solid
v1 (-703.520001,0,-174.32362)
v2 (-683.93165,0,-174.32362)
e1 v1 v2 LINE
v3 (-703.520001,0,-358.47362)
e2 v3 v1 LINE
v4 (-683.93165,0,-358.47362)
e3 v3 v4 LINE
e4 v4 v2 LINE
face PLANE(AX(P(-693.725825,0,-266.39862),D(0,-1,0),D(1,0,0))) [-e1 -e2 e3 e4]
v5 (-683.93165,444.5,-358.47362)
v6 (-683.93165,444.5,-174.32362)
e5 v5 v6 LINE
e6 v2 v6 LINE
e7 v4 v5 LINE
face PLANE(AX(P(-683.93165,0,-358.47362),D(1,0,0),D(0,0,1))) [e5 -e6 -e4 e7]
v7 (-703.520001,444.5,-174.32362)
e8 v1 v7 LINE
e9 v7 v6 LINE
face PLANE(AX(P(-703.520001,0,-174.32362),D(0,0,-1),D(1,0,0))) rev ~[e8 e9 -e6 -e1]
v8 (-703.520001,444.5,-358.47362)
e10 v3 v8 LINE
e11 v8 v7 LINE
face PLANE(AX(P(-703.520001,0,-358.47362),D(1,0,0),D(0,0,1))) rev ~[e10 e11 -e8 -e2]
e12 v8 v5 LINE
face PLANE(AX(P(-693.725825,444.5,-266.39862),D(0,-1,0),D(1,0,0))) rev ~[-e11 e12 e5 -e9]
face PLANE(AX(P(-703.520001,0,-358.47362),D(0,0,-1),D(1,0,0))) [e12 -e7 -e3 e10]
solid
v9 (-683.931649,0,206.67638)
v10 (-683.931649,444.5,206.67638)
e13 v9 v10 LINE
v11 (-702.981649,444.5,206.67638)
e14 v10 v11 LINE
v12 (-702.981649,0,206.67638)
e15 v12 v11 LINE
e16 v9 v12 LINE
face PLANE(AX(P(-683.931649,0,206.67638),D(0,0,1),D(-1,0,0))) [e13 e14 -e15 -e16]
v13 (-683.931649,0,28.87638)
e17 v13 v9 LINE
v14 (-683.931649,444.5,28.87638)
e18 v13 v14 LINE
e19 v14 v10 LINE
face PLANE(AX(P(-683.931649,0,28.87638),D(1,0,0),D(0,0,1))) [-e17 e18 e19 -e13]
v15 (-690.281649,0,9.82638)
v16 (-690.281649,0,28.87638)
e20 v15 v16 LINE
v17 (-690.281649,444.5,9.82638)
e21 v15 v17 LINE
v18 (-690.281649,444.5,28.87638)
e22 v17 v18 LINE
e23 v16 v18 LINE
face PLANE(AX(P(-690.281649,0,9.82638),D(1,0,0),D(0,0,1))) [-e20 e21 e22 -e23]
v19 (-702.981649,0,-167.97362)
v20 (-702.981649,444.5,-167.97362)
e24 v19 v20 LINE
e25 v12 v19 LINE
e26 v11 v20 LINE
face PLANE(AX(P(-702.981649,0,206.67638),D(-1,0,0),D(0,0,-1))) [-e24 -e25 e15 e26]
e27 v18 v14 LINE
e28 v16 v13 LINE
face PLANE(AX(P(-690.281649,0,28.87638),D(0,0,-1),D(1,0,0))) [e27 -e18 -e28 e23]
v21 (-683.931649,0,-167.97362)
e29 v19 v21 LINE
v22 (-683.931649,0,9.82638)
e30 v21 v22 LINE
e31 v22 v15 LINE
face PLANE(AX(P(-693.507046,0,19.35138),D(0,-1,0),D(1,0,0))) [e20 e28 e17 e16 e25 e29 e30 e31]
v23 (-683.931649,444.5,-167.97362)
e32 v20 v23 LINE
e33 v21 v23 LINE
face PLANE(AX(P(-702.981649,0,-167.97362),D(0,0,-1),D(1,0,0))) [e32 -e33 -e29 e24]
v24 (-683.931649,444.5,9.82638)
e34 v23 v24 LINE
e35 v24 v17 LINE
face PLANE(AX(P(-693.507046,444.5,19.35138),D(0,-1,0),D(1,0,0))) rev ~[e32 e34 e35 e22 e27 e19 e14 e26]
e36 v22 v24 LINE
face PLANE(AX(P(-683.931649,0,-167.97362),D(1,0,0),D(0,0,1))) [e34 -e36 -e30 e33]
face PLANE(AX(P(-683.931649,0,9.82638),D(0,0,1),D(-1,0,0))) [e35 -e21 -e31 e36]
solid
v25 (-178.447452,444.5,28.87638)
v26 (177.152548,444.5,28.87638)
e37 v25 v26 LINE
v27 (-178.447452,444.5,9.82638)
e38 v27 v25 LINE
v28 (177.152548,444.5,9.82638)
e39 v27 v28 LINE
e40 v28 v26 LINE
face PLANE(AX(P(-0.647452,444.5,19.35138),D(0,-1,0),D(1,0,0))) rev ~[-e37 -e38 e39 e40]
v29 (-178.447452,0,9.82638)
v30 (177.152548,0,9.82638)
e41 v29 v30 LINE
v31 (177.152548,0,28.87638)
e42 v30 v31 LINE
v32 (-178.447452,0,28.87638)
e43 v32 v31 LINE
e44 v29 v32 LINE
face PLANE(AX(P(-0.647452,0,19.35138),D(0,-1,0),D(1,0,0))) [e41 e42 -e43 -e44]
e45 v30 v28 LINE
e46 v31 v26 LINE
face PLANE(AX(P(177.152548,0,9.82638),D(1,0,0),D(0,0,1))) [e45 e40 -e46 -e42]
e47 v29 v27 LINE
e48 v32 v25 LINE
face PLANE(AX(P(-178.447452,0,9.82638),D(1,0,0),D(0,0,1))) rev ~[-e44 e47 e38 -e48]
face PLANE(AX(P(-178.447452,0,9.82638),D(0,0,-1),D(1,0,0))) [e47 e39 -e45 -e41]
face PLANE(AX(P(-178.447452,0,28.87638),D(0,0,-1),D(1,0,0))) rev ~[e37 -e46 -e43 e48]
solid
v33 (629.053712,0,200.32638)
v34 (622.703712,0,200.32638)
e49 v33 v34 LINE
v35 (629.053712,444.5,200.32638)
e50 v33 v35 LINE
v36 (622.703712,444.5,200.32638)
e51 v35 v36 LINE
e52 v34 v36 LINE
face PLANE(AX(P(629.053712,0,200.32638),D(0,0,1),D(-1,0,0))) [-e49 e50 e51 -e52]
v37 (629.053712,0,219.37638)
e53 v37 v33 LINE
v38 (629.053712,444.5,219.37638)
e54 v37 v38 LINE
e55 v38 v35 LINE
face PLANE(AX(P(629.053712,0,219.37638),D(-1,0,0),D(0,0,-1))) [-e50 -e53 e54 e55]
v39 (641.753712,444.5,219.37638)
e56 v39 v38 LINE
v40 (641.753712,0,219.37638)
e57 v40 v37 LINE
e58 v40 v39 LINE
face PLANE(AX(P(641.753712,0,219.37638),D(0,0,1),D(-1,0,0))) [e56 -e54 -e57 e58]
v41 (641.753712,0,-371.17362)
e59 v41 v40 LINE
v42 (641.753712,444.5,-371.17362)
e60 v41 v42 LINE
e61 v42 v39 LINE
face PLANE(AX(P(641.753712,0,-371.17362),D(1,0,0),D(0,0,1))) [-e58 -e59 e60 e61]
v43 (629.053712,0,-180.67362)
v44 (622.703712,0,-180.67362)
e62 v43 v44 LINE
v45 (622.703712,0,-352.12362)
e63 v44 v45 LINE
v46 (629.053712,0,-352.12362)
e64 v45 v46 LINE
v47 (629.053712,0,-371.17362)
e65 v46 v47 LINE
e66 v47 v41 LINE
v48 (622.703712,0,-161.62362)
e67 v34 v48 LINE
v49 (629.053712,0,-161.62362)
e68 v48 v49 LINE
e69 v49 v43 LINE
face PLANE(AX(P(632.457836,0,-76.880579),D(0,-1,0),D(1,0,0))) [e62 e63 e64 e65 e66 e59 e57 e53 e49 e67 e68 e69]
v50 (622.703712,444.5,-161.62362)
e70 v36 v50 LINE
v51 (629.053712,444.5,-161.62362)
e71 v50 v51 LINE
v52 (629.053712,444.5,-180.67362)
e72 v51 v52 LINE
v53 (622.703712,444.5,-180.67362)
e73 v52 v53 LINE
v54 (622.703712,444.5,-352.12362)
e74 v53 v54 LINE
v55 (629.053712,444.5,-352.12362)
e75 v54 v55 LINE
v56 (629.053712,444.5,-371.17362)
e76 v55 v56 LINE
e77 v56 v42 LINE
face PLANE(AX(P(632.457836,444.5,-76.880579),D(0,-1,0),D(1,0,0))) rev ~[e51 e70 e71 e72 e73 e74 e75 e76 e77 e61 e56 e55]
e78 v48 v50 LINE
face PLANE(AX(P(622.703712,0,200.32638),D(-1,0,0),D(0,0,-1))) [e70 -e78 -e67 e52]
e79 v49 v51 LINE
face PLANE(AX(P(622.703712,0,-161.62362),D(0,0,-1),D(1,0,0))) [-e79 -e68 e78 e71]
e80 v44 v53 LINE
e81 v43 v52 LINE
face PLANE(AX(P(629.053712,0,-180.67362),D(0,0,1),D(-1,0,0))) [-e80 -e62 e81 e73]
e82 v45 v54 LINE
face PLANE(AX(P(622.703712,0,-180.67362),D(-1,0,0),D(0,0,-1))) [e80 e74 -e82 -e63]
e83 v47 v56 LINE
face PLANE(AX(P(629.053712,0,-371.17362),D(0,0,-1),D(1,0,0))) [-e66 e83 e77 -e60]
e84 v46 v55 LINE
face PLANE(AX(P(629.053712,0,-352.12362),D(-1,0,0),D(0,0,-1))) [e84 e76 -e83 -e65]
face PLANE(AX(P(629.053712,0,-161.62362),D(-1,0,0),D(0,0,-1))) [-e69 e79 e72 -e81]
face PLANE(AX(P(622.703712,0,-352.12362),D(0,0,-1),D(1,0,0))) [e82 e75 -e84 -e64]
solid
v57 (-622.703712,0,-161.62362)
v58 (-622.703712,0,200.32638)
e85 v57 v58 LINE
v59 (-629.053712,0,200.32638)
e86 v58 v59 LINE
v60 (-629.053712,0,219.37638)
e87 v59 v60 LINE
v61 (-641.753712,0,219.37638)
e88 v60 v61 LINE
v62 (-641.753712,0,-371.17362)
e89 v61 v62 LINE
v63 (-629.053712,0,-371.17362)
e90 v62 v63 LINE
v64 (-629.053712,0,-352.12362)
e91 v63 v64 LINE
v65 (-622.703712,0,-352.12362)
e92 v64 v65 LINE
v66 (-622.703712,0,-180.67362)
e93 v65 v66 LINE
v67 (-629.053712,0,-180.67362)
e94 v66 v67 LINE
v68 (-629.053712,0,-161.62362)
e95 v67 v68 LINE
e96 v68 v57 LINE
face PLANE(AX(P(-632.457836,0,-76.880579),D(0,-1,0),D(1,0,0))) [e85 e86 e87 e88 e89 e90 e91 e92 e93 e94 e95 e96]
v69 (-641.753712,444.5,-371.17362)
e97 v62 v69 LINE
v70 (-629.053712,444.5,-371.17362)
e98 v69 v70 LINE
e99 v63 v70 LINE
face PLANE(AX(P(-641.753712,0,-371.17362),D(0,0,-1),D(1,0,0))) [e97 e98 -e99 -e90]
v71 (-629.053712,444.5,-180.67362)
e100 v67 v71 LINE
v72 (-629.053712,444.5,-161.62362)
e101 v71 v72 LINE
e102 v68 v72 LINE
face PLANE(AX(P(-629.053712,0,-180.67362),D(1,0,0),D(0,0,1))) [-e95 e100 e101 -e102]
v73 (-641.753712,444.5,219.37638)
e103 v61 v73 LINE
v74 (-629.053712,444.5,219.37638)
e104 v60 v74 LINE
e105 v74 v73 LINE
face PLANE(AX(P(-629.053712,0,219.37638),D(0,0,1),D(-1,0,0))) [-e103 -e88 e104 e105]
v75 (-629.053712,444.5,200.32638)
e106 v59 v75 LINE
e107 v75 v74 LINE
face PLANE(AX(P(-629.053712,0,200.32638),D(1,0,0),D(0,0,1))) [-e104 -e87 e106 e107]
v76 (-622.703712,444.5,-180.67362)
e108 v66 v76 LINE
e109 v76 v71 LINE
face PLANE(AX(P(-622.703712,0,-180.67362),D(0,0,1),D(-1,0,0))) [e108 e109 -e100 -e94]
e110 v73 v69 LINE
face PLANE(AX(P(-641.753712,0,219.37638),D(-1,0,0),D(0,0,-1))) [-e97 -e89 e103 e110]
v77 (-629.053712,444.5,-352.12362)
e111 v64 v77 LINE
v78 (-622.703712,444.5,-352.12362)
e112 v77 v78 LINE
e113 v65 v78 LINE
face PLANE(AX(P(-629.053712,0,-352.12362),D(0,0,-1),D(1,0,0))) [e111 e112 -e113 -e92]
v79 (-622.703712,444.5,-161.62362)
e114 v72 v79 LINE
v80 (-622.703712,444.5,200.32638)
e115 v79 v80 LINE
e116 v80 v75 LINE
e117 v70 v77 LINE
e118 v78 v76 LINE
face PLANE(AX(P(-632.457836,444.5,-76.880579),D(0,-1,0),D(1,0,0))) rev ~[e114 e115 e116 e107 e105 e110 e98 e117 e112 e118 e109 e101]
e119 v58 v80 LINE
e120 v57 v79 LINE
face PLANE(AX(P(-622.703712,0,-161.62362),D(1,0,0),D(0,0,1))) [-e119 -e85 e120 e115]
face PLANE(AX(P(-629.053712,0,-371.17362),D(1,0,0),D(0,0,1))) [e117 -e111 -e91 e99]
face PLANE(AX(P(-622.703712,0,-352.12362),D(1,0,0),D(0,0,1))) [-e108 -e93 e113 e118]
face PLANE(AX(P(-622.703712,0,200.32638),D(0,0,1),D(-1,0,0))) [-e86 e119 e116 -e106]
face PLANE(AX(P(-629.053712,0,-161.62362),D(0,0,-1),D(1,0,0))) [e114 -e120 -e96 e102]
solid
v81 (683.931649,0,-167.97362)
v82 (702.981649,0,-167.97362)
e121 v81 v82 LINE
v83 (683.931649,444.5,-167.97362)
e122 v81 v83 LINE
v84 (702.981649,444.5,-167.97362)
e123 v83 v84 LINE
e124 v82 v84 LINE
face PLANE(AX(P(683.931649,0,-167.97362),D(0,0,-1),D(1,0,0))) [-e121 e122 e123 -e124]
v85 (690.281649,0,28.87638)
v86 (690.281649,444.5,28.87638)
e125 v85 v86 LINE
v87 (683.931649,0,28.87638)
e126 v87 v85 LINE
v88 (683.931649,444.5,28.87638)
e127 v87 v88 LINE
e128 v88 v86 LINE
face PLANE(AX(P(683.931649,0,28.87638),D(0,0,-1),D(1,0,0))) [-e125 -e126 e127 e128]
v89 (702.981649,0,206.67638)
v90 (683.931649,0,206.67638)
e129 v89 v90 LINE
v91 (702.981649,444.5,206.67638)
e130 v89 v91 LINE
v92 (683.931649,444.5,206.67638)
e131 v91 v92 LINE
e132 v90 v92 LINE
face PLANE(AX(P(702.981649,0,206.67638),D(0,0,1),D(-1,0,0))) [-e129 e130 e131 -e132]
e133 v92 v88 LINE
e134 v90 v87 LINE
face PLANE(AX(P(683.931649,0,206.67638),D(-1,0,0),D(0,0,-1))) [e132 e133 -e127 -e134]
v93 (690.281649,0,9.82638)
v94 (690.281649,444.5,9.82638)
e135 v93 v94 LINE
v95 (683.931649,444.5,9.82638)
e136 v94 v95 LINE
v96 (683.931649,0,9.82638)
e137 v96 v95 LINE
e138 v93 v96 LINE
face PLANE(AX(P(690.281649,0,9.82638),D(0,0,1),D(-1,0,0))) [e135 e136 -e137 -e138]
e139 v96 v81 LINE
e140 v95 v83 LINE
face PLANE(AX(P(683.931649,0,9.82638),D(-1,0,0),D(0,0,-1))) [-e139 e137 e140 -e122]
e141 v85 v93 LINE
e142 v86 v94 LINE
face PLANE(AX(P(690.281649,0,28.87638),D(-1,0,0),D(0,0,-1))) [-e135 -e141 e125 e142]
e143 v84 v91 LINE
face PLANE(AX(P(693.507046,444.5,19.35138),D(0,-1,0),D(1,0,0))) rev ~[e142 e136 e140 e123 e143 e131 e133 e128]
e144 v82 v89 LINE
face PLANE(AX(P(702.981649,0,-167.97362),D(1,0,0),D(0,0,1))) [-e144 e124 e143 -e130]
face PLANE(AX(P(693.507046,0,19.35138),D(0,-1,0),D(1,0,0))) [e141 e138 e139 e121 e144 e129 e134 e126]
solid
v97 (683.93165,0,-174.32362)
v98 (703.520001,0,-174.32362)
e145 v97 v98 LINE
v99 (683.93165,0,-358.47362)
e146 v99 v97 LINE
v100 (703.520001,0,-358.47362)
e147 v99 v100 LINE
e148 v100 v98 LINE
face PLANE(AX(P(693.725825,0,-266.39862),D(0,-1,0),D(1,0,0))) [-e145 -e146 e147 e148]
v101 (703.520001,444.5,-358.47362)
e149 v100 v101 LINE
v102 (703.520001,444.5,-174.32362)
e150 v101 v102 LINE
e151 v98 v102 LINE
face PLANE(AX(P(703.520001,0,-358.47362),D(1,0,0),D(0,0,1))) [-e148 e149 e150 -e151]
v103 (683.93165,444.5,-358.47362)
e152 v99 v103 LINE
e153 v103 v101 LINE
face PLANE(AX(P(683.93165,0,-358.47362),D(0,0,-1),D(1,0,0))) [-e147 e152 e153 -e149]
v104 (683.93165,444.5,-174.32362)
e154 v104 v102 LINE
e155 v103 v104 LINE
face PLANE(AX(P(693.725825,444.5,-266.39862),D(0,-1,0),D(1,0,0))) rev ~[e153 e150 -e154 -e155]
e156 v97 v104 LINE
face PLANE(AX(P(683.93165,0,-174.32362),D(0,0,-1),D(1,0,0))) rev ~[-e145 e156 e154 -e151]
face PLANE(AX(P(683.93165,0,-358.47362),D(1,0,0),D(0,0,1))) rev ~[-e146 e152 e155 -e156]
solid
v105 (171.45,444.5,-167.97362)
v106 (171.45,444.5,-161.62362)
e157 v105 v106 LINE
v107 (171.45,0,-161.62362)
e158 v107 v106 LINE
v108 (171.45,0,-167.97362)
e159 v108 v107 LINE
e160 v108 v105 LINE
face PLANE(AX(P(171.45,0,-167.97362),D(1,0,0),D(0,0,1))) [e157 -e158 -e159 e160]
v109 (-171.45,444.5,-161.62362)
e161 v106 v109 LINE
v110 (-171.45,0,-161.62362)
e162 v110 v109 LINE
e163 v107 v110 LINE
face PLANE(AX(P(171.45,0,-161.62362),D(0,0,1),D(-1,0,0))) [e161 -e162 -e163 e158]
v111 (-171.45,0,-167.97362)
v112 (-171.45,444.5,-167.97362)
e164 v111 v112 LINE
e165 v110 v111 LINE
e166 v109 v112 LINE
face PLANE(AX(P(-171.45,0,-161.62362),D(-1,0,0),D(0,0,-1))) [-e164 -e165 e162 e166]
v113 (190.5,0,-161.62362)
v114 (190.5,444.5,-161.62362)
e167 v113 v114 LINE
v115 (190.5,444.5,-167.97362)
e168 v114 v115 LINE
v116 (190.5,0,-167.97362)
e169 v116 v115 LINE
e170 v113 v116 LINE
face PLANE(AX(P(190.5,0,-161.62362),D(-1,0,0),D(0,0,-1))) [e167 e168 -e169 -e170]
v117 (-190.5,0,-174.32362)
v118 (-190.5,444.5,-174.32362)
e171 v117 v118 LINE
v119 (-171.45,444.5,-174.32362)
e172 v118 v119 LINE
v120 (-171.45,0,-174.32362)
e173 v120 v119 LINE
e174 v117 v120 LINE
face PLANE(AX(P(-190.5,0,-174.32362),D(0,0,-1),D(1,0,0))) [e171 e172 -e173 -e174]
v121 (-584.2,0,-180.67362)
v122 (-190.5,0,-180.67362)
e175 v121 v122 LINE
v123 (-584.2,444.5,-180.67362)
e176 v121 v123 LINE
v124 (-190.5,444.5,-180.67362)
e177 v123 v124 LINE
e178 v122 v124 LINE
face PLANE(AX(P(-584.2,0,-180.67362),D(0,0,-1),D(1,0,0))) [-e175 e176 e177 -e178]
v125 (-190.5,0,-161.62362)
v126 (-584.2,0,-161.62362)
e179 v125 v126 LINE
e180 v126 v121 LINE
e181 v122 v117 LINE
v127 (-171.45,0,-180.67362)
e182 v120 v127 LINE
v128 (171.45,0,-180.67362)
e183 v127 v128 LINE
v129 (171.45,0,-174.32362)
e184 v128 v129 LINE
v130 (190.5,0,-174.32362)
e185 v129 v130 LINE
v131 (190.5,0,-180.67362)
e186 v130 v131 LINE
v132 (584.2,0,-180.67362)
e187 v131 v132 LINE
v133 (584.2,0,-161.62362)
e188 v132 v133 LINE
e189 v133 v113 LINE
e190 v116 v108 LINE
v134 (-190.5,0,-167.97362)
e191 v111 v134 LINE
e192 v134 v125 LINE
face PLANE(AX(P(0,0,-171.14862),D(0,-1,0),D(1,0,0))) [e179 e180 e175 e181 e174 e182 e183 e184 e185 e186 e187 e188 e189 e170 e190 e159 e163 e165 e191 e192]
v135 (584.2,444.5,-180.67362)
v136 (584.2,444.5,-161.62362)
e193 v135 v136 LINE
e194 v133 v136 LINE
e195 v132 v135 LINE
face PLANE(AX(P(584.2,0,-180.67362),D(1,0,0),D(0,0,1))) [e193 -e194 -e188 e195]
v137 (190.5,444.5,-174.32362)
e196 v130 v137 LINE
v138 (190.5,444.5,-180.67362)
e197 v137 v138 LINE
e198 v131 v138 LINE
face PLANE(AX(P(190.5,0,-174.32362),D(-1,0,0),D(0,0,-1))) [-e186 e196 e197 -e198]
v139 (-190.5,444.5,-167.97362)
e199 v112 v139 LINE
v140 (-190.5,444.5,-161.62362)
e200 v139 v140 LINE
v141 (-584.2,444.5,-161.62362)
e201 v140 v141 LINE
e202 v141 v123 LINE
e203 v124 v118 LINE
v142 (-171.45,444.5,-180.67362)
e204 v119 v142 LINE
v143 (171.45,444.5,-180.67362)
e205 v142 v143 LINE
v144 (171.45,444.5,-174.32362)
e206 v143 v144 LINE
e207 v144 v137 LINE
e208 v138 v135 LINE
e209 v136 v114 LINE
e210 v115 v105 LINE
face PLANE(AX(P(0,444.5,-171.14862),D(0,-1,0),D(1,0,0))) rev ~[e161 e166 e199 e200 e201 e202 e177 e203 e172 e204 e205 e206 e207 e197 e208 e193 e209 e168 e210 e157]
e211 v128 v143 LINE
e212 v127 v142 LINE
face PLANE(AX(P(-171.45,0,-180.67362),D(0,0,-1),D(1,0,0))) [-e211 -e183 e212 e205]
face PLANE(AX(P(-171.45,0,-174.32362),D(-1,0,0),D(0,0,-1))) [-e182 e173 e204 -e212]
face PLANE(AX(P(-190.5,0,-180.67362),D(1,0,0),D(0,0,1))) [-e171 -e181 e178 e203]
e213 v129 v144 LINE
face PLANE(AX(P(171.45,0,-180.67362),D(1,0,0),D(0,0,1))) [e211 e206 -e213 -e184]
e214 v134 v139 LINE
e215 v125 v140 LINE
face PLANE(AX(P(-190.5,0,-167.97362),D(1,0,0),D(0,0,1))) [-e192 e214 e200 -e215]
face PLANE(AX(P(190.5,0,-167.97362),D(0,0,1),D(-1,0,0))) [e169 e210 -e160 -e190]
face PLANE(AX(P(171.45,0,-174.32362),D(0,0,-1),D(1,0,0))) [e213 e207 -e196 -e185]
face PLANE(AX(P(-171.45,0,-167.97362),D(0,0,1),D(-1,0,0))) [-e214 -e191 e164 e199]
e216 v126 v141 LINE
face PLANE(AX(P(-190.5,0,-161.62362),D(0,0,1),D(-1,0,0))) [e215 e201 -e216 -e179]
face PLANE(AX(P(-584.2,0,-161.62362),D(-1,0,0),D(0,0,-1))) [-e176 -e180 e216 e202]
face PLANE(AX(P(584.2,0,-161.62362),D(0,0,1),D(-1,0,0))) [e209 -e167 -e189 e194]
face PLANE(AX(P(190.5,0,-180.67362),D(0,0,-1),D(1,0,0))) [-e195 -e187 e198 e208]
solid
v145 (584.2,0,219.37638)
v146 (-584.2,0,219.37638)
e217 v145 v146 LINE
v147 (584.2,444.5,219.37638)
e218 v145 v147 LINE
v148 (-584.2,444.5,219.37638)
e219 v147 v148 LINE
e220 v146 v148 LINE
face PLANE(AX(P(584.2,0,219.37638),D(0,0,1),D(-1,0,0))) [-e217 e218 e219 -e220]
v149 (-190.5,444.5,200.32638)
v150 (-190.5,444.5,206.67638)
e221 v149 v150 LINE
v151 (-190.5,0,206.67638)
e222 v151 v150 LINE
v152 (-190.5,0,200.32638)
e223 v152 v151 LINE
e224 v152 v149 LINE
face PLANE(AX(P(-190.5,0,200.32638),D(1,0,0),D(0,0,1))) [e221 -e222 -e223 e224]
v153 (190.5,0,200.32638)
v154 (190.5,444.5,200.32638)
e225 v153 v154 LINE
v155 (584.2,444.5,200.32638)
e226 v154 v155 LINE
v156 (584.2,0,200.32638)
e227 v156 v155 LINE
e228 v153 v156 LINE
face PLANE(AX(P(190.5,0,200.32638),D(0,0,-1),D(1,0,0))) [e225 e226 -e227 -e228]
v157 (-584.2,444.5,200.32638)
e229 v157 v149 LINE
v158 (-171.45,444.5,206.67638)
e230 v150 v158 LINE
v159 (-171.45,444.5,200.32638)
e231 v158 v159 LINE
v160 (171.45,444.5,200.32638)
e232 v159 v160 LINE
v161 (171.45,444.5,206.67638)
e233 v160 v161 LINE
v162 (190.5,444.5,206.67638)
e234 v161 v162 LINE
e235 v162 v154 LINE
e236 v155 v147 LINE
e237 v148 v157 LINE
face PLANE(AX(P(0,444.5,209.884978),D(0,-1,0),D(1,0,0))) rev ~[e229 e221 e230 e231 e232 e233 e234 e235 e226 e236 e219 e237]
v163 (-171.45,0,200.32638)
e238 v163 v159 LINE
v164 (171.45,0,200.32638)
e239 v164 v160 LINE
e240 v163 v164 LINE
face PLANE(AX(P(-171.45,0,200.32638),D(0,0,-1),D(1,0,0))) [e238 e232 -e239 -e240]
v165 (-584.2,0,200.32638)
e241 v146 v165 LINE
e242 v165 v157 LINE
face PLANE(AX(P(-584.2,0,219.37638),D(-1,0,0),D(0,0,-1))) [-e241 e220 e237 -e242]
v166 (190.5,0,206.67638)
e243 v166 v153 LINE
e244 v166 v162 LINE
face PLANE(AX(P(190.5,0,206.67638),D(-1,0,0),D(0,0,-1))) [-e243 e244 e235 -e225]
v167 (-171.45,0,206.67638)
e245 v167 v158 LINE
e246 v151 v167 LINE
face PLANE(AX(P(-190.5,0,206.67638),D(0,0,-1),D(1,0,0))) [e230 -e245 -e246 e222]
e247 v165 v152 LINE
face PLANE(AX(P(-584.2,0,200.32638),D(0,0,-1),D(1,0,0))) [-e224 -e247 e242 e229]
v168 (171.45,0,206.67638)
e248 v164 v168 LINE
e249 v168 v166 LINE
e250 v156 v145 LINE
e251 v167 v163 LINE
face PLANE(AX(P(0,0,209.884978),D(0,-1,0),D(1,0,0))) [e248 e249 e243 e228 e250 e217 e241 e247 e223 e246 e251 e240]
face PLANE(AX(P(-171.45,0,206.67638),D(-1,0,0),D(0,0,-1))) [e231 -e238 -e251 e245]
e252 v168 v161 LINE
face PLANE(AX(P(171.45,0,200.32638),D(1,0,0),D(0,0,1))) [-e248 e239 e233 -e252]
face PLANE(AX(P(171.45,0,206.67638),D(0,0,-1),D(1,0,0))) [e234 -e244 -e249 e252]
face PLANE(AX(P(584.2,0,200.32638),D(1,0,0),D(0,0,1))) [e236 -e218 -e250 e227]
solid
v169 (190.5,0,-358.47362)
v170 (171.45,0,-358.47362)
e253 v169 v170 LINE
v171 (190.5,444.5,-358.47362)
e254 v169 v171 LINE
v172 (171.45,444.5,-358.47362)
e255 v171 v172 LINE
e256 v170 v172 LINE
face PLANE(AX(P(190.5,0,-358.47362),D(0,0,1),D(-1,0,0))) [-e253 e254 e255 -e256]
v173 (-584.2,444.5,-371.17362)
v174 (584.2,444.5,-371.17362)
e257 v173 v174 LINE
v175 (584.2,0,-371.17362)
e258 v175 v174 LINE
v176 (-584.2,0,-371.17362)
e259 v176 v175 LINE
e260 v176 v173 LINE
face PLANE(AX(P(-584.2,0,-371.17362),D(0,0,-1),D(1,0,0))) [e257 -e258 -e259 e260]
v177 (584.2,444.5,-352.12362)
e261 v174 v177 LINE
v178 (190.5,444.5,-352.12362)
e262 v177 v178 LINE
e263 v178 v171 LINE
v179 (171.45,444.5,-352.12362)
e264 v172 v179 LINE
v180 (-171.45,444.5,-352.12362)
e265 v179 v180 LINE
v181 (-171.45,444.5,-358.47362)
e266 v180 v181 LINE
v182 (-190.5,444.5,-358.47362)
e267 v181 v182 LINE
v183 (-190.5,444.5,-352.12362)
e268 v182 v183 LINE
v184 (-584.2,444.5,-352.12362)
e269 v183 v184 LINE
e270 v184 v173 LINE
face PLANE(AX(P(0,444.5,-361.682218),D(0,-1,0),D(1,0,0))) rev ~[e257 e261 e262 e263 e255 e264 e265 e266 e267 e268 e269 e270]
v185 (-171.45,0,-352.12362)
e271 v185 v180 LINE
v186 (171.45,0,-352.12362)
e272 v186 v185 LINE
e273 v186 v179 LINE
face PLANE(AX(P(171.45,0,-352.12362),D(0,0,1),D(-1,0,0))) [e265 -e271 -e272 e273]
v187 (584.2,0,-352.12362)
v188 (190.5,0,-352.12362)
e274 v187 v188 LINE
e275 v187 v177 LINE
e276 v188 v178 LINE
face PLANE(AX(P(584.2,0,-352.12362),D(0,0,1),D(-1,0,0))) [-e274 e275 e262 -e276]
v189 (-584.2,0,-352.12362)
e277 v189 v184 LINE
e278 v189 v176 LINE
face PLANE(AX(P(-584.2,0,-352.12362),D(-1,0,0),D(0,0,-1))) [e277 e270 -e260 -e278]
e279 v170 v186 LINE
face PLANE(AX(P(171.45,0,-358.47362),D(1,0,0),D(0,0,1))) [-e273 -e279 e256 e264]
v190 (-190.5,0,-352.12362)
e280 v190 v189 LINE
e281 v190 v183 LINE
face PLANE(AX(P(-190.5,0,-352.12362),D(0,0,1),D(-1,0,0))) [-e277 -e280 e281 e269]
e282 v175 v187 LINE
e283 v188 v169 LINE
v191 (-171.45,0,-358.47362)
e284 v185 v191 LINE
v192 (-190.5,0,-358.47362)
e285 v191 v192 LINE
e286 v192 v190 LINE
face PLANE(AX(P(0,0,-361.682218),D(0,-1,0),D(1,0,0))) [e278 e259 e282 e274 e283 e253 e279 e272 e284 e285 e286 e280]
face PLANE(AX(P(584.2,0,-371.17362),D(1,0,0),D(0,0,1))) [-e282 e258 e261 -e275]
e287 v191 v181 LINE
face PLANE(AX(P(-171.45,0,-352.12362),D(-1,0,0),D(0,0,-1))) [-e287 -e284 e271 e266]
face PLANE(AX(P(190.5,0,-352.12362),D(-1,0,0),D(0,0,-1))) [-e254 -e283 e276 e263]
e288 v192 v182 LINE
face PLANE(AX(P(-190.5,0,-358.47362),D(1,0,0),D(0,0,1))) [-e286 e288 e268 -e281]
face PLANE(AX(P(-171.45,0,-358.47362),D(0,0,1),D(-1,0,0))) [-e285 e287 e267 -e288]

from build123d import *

# Parameters (mm, degrees)
F1_DEPTH = 444.5
F0_W     = 355.6
F0_H     = 19.05
F0_W_2   = 19.588351
F0_H_2   = 184.15
F2_DEPTH = 444.5


with BuildPart() as f1:
    # F0 (on Front) → F1 (new body)
    with BuildSketch(Plane.XZ):
        Polygon((-629.053712, 219.37638), (-641.753712, 219.37638), (-641.753712, -371.17362), (-629.053712, -371.17362), (-629.053712, -352.12362), (-622.703712, -352.12362), (-622.703712, -180.67362), (-629.053712, -180.67362), (-629.053712, -161.62362), (-622.703712, -161.62362), (-622.703712, 200.32638), (-629.053712, 200.32638), align=None)
        Polygon((-190.5, -352.12362), (-584.2, -352.12362), (-584.2, -371.17362), (584.2, -371.17362), (584.2, -352.12362), (190.5, -352.12362), (190.5, -358.47362), (171.45, -358.47362), (171.45, -352.12362), (-171.45, -352.12362), (-171.45, -358.47362), (-190.5, -358.47362), align=None)
        Polygon((622.703712, 200.32638), (622.703712, -161.62362), (629.053712, -161.62362), (629.053712, -180.67362), (622.703712, -180.67362), (622.703712, -352.12362), (629.053712, -352.12362), (629.053712, -371.17362), (641.753712, -371.17362), (641.753712, 219.37638), (629.053712, 219.37638), (629.053712, 200.32638), align=None)
    extrude(amount=-F1_DEPTH)


with BuildPart() as f2:
    # F0 (on Front) → F2 (new body)
    with BuildSketch(Plane.XZ):
        Polygon((584.2, 219.37638), (-584.2, 219.37638), (-584.2, 200.32638), (-190.5, 200.32638), (-190.5, 206.67638), (-171.45, 206.67638), (-171.45, 200.32638), (171.45, 200.32638), (171.45, 206.67638), (190.5, 206.67638), (190.5, 200.32638), (584.2, 200.32638), align=None)
        Polygon((-702.981649, 206.67638), (-702.981649, -167.97362), (-683.931649, -167.97362), (-683.931649, 9.82638), (-690.281649, 9.82638), (-690.281649, 28.87638), (-683.931649, 28.87638), (-683.931649, 206.67638), align=None)
        with Locations((-0.647452, 19.35138)):
            Rectangle(F0_W, F0_H)
        with Locations((-693.725825, -266.39862)):
            Rectangle(F0_W_2, F0_H_2)
        with Locations((693.725825, -266.39862)):
            Rectangle(F0_W_2, F0_H_2)
        Polygon((702.981649, -167.97362), (702.981649, 206.67638), (683.931649, 206.67638), (683.931649, 28.87638), (690.281649, 28.87638), (690.281649, 9.82638), (683.931649, 9.82638), (683.931649, -167.97362), align=None)
        Polygon((-584.2, -161.62362), (-584.2, -180.67362), (-190.5, -180.67362), (-190.5, -174.32362), (-171.45, -174.32362), (-171.45, -180.67362), (171.45, -180.67362), (171.45, -174.32362), (190.5, -174.32362), (190.5, -180.67362), (584.2, -180.67362), (584.2, -161.62362), (190.5, -161.62362), (190.5, -167.97362), (171.45, -167.97362), (171.45, -161.62362), (-171.45, -161.62362), (-171.45, -167.97362), (-190.5, -167.97362), (-190.5, -161.62362), align=None)
    extrude(amount=-F2_DEPTH)


solid = Compound([f1.part, f2.part])
